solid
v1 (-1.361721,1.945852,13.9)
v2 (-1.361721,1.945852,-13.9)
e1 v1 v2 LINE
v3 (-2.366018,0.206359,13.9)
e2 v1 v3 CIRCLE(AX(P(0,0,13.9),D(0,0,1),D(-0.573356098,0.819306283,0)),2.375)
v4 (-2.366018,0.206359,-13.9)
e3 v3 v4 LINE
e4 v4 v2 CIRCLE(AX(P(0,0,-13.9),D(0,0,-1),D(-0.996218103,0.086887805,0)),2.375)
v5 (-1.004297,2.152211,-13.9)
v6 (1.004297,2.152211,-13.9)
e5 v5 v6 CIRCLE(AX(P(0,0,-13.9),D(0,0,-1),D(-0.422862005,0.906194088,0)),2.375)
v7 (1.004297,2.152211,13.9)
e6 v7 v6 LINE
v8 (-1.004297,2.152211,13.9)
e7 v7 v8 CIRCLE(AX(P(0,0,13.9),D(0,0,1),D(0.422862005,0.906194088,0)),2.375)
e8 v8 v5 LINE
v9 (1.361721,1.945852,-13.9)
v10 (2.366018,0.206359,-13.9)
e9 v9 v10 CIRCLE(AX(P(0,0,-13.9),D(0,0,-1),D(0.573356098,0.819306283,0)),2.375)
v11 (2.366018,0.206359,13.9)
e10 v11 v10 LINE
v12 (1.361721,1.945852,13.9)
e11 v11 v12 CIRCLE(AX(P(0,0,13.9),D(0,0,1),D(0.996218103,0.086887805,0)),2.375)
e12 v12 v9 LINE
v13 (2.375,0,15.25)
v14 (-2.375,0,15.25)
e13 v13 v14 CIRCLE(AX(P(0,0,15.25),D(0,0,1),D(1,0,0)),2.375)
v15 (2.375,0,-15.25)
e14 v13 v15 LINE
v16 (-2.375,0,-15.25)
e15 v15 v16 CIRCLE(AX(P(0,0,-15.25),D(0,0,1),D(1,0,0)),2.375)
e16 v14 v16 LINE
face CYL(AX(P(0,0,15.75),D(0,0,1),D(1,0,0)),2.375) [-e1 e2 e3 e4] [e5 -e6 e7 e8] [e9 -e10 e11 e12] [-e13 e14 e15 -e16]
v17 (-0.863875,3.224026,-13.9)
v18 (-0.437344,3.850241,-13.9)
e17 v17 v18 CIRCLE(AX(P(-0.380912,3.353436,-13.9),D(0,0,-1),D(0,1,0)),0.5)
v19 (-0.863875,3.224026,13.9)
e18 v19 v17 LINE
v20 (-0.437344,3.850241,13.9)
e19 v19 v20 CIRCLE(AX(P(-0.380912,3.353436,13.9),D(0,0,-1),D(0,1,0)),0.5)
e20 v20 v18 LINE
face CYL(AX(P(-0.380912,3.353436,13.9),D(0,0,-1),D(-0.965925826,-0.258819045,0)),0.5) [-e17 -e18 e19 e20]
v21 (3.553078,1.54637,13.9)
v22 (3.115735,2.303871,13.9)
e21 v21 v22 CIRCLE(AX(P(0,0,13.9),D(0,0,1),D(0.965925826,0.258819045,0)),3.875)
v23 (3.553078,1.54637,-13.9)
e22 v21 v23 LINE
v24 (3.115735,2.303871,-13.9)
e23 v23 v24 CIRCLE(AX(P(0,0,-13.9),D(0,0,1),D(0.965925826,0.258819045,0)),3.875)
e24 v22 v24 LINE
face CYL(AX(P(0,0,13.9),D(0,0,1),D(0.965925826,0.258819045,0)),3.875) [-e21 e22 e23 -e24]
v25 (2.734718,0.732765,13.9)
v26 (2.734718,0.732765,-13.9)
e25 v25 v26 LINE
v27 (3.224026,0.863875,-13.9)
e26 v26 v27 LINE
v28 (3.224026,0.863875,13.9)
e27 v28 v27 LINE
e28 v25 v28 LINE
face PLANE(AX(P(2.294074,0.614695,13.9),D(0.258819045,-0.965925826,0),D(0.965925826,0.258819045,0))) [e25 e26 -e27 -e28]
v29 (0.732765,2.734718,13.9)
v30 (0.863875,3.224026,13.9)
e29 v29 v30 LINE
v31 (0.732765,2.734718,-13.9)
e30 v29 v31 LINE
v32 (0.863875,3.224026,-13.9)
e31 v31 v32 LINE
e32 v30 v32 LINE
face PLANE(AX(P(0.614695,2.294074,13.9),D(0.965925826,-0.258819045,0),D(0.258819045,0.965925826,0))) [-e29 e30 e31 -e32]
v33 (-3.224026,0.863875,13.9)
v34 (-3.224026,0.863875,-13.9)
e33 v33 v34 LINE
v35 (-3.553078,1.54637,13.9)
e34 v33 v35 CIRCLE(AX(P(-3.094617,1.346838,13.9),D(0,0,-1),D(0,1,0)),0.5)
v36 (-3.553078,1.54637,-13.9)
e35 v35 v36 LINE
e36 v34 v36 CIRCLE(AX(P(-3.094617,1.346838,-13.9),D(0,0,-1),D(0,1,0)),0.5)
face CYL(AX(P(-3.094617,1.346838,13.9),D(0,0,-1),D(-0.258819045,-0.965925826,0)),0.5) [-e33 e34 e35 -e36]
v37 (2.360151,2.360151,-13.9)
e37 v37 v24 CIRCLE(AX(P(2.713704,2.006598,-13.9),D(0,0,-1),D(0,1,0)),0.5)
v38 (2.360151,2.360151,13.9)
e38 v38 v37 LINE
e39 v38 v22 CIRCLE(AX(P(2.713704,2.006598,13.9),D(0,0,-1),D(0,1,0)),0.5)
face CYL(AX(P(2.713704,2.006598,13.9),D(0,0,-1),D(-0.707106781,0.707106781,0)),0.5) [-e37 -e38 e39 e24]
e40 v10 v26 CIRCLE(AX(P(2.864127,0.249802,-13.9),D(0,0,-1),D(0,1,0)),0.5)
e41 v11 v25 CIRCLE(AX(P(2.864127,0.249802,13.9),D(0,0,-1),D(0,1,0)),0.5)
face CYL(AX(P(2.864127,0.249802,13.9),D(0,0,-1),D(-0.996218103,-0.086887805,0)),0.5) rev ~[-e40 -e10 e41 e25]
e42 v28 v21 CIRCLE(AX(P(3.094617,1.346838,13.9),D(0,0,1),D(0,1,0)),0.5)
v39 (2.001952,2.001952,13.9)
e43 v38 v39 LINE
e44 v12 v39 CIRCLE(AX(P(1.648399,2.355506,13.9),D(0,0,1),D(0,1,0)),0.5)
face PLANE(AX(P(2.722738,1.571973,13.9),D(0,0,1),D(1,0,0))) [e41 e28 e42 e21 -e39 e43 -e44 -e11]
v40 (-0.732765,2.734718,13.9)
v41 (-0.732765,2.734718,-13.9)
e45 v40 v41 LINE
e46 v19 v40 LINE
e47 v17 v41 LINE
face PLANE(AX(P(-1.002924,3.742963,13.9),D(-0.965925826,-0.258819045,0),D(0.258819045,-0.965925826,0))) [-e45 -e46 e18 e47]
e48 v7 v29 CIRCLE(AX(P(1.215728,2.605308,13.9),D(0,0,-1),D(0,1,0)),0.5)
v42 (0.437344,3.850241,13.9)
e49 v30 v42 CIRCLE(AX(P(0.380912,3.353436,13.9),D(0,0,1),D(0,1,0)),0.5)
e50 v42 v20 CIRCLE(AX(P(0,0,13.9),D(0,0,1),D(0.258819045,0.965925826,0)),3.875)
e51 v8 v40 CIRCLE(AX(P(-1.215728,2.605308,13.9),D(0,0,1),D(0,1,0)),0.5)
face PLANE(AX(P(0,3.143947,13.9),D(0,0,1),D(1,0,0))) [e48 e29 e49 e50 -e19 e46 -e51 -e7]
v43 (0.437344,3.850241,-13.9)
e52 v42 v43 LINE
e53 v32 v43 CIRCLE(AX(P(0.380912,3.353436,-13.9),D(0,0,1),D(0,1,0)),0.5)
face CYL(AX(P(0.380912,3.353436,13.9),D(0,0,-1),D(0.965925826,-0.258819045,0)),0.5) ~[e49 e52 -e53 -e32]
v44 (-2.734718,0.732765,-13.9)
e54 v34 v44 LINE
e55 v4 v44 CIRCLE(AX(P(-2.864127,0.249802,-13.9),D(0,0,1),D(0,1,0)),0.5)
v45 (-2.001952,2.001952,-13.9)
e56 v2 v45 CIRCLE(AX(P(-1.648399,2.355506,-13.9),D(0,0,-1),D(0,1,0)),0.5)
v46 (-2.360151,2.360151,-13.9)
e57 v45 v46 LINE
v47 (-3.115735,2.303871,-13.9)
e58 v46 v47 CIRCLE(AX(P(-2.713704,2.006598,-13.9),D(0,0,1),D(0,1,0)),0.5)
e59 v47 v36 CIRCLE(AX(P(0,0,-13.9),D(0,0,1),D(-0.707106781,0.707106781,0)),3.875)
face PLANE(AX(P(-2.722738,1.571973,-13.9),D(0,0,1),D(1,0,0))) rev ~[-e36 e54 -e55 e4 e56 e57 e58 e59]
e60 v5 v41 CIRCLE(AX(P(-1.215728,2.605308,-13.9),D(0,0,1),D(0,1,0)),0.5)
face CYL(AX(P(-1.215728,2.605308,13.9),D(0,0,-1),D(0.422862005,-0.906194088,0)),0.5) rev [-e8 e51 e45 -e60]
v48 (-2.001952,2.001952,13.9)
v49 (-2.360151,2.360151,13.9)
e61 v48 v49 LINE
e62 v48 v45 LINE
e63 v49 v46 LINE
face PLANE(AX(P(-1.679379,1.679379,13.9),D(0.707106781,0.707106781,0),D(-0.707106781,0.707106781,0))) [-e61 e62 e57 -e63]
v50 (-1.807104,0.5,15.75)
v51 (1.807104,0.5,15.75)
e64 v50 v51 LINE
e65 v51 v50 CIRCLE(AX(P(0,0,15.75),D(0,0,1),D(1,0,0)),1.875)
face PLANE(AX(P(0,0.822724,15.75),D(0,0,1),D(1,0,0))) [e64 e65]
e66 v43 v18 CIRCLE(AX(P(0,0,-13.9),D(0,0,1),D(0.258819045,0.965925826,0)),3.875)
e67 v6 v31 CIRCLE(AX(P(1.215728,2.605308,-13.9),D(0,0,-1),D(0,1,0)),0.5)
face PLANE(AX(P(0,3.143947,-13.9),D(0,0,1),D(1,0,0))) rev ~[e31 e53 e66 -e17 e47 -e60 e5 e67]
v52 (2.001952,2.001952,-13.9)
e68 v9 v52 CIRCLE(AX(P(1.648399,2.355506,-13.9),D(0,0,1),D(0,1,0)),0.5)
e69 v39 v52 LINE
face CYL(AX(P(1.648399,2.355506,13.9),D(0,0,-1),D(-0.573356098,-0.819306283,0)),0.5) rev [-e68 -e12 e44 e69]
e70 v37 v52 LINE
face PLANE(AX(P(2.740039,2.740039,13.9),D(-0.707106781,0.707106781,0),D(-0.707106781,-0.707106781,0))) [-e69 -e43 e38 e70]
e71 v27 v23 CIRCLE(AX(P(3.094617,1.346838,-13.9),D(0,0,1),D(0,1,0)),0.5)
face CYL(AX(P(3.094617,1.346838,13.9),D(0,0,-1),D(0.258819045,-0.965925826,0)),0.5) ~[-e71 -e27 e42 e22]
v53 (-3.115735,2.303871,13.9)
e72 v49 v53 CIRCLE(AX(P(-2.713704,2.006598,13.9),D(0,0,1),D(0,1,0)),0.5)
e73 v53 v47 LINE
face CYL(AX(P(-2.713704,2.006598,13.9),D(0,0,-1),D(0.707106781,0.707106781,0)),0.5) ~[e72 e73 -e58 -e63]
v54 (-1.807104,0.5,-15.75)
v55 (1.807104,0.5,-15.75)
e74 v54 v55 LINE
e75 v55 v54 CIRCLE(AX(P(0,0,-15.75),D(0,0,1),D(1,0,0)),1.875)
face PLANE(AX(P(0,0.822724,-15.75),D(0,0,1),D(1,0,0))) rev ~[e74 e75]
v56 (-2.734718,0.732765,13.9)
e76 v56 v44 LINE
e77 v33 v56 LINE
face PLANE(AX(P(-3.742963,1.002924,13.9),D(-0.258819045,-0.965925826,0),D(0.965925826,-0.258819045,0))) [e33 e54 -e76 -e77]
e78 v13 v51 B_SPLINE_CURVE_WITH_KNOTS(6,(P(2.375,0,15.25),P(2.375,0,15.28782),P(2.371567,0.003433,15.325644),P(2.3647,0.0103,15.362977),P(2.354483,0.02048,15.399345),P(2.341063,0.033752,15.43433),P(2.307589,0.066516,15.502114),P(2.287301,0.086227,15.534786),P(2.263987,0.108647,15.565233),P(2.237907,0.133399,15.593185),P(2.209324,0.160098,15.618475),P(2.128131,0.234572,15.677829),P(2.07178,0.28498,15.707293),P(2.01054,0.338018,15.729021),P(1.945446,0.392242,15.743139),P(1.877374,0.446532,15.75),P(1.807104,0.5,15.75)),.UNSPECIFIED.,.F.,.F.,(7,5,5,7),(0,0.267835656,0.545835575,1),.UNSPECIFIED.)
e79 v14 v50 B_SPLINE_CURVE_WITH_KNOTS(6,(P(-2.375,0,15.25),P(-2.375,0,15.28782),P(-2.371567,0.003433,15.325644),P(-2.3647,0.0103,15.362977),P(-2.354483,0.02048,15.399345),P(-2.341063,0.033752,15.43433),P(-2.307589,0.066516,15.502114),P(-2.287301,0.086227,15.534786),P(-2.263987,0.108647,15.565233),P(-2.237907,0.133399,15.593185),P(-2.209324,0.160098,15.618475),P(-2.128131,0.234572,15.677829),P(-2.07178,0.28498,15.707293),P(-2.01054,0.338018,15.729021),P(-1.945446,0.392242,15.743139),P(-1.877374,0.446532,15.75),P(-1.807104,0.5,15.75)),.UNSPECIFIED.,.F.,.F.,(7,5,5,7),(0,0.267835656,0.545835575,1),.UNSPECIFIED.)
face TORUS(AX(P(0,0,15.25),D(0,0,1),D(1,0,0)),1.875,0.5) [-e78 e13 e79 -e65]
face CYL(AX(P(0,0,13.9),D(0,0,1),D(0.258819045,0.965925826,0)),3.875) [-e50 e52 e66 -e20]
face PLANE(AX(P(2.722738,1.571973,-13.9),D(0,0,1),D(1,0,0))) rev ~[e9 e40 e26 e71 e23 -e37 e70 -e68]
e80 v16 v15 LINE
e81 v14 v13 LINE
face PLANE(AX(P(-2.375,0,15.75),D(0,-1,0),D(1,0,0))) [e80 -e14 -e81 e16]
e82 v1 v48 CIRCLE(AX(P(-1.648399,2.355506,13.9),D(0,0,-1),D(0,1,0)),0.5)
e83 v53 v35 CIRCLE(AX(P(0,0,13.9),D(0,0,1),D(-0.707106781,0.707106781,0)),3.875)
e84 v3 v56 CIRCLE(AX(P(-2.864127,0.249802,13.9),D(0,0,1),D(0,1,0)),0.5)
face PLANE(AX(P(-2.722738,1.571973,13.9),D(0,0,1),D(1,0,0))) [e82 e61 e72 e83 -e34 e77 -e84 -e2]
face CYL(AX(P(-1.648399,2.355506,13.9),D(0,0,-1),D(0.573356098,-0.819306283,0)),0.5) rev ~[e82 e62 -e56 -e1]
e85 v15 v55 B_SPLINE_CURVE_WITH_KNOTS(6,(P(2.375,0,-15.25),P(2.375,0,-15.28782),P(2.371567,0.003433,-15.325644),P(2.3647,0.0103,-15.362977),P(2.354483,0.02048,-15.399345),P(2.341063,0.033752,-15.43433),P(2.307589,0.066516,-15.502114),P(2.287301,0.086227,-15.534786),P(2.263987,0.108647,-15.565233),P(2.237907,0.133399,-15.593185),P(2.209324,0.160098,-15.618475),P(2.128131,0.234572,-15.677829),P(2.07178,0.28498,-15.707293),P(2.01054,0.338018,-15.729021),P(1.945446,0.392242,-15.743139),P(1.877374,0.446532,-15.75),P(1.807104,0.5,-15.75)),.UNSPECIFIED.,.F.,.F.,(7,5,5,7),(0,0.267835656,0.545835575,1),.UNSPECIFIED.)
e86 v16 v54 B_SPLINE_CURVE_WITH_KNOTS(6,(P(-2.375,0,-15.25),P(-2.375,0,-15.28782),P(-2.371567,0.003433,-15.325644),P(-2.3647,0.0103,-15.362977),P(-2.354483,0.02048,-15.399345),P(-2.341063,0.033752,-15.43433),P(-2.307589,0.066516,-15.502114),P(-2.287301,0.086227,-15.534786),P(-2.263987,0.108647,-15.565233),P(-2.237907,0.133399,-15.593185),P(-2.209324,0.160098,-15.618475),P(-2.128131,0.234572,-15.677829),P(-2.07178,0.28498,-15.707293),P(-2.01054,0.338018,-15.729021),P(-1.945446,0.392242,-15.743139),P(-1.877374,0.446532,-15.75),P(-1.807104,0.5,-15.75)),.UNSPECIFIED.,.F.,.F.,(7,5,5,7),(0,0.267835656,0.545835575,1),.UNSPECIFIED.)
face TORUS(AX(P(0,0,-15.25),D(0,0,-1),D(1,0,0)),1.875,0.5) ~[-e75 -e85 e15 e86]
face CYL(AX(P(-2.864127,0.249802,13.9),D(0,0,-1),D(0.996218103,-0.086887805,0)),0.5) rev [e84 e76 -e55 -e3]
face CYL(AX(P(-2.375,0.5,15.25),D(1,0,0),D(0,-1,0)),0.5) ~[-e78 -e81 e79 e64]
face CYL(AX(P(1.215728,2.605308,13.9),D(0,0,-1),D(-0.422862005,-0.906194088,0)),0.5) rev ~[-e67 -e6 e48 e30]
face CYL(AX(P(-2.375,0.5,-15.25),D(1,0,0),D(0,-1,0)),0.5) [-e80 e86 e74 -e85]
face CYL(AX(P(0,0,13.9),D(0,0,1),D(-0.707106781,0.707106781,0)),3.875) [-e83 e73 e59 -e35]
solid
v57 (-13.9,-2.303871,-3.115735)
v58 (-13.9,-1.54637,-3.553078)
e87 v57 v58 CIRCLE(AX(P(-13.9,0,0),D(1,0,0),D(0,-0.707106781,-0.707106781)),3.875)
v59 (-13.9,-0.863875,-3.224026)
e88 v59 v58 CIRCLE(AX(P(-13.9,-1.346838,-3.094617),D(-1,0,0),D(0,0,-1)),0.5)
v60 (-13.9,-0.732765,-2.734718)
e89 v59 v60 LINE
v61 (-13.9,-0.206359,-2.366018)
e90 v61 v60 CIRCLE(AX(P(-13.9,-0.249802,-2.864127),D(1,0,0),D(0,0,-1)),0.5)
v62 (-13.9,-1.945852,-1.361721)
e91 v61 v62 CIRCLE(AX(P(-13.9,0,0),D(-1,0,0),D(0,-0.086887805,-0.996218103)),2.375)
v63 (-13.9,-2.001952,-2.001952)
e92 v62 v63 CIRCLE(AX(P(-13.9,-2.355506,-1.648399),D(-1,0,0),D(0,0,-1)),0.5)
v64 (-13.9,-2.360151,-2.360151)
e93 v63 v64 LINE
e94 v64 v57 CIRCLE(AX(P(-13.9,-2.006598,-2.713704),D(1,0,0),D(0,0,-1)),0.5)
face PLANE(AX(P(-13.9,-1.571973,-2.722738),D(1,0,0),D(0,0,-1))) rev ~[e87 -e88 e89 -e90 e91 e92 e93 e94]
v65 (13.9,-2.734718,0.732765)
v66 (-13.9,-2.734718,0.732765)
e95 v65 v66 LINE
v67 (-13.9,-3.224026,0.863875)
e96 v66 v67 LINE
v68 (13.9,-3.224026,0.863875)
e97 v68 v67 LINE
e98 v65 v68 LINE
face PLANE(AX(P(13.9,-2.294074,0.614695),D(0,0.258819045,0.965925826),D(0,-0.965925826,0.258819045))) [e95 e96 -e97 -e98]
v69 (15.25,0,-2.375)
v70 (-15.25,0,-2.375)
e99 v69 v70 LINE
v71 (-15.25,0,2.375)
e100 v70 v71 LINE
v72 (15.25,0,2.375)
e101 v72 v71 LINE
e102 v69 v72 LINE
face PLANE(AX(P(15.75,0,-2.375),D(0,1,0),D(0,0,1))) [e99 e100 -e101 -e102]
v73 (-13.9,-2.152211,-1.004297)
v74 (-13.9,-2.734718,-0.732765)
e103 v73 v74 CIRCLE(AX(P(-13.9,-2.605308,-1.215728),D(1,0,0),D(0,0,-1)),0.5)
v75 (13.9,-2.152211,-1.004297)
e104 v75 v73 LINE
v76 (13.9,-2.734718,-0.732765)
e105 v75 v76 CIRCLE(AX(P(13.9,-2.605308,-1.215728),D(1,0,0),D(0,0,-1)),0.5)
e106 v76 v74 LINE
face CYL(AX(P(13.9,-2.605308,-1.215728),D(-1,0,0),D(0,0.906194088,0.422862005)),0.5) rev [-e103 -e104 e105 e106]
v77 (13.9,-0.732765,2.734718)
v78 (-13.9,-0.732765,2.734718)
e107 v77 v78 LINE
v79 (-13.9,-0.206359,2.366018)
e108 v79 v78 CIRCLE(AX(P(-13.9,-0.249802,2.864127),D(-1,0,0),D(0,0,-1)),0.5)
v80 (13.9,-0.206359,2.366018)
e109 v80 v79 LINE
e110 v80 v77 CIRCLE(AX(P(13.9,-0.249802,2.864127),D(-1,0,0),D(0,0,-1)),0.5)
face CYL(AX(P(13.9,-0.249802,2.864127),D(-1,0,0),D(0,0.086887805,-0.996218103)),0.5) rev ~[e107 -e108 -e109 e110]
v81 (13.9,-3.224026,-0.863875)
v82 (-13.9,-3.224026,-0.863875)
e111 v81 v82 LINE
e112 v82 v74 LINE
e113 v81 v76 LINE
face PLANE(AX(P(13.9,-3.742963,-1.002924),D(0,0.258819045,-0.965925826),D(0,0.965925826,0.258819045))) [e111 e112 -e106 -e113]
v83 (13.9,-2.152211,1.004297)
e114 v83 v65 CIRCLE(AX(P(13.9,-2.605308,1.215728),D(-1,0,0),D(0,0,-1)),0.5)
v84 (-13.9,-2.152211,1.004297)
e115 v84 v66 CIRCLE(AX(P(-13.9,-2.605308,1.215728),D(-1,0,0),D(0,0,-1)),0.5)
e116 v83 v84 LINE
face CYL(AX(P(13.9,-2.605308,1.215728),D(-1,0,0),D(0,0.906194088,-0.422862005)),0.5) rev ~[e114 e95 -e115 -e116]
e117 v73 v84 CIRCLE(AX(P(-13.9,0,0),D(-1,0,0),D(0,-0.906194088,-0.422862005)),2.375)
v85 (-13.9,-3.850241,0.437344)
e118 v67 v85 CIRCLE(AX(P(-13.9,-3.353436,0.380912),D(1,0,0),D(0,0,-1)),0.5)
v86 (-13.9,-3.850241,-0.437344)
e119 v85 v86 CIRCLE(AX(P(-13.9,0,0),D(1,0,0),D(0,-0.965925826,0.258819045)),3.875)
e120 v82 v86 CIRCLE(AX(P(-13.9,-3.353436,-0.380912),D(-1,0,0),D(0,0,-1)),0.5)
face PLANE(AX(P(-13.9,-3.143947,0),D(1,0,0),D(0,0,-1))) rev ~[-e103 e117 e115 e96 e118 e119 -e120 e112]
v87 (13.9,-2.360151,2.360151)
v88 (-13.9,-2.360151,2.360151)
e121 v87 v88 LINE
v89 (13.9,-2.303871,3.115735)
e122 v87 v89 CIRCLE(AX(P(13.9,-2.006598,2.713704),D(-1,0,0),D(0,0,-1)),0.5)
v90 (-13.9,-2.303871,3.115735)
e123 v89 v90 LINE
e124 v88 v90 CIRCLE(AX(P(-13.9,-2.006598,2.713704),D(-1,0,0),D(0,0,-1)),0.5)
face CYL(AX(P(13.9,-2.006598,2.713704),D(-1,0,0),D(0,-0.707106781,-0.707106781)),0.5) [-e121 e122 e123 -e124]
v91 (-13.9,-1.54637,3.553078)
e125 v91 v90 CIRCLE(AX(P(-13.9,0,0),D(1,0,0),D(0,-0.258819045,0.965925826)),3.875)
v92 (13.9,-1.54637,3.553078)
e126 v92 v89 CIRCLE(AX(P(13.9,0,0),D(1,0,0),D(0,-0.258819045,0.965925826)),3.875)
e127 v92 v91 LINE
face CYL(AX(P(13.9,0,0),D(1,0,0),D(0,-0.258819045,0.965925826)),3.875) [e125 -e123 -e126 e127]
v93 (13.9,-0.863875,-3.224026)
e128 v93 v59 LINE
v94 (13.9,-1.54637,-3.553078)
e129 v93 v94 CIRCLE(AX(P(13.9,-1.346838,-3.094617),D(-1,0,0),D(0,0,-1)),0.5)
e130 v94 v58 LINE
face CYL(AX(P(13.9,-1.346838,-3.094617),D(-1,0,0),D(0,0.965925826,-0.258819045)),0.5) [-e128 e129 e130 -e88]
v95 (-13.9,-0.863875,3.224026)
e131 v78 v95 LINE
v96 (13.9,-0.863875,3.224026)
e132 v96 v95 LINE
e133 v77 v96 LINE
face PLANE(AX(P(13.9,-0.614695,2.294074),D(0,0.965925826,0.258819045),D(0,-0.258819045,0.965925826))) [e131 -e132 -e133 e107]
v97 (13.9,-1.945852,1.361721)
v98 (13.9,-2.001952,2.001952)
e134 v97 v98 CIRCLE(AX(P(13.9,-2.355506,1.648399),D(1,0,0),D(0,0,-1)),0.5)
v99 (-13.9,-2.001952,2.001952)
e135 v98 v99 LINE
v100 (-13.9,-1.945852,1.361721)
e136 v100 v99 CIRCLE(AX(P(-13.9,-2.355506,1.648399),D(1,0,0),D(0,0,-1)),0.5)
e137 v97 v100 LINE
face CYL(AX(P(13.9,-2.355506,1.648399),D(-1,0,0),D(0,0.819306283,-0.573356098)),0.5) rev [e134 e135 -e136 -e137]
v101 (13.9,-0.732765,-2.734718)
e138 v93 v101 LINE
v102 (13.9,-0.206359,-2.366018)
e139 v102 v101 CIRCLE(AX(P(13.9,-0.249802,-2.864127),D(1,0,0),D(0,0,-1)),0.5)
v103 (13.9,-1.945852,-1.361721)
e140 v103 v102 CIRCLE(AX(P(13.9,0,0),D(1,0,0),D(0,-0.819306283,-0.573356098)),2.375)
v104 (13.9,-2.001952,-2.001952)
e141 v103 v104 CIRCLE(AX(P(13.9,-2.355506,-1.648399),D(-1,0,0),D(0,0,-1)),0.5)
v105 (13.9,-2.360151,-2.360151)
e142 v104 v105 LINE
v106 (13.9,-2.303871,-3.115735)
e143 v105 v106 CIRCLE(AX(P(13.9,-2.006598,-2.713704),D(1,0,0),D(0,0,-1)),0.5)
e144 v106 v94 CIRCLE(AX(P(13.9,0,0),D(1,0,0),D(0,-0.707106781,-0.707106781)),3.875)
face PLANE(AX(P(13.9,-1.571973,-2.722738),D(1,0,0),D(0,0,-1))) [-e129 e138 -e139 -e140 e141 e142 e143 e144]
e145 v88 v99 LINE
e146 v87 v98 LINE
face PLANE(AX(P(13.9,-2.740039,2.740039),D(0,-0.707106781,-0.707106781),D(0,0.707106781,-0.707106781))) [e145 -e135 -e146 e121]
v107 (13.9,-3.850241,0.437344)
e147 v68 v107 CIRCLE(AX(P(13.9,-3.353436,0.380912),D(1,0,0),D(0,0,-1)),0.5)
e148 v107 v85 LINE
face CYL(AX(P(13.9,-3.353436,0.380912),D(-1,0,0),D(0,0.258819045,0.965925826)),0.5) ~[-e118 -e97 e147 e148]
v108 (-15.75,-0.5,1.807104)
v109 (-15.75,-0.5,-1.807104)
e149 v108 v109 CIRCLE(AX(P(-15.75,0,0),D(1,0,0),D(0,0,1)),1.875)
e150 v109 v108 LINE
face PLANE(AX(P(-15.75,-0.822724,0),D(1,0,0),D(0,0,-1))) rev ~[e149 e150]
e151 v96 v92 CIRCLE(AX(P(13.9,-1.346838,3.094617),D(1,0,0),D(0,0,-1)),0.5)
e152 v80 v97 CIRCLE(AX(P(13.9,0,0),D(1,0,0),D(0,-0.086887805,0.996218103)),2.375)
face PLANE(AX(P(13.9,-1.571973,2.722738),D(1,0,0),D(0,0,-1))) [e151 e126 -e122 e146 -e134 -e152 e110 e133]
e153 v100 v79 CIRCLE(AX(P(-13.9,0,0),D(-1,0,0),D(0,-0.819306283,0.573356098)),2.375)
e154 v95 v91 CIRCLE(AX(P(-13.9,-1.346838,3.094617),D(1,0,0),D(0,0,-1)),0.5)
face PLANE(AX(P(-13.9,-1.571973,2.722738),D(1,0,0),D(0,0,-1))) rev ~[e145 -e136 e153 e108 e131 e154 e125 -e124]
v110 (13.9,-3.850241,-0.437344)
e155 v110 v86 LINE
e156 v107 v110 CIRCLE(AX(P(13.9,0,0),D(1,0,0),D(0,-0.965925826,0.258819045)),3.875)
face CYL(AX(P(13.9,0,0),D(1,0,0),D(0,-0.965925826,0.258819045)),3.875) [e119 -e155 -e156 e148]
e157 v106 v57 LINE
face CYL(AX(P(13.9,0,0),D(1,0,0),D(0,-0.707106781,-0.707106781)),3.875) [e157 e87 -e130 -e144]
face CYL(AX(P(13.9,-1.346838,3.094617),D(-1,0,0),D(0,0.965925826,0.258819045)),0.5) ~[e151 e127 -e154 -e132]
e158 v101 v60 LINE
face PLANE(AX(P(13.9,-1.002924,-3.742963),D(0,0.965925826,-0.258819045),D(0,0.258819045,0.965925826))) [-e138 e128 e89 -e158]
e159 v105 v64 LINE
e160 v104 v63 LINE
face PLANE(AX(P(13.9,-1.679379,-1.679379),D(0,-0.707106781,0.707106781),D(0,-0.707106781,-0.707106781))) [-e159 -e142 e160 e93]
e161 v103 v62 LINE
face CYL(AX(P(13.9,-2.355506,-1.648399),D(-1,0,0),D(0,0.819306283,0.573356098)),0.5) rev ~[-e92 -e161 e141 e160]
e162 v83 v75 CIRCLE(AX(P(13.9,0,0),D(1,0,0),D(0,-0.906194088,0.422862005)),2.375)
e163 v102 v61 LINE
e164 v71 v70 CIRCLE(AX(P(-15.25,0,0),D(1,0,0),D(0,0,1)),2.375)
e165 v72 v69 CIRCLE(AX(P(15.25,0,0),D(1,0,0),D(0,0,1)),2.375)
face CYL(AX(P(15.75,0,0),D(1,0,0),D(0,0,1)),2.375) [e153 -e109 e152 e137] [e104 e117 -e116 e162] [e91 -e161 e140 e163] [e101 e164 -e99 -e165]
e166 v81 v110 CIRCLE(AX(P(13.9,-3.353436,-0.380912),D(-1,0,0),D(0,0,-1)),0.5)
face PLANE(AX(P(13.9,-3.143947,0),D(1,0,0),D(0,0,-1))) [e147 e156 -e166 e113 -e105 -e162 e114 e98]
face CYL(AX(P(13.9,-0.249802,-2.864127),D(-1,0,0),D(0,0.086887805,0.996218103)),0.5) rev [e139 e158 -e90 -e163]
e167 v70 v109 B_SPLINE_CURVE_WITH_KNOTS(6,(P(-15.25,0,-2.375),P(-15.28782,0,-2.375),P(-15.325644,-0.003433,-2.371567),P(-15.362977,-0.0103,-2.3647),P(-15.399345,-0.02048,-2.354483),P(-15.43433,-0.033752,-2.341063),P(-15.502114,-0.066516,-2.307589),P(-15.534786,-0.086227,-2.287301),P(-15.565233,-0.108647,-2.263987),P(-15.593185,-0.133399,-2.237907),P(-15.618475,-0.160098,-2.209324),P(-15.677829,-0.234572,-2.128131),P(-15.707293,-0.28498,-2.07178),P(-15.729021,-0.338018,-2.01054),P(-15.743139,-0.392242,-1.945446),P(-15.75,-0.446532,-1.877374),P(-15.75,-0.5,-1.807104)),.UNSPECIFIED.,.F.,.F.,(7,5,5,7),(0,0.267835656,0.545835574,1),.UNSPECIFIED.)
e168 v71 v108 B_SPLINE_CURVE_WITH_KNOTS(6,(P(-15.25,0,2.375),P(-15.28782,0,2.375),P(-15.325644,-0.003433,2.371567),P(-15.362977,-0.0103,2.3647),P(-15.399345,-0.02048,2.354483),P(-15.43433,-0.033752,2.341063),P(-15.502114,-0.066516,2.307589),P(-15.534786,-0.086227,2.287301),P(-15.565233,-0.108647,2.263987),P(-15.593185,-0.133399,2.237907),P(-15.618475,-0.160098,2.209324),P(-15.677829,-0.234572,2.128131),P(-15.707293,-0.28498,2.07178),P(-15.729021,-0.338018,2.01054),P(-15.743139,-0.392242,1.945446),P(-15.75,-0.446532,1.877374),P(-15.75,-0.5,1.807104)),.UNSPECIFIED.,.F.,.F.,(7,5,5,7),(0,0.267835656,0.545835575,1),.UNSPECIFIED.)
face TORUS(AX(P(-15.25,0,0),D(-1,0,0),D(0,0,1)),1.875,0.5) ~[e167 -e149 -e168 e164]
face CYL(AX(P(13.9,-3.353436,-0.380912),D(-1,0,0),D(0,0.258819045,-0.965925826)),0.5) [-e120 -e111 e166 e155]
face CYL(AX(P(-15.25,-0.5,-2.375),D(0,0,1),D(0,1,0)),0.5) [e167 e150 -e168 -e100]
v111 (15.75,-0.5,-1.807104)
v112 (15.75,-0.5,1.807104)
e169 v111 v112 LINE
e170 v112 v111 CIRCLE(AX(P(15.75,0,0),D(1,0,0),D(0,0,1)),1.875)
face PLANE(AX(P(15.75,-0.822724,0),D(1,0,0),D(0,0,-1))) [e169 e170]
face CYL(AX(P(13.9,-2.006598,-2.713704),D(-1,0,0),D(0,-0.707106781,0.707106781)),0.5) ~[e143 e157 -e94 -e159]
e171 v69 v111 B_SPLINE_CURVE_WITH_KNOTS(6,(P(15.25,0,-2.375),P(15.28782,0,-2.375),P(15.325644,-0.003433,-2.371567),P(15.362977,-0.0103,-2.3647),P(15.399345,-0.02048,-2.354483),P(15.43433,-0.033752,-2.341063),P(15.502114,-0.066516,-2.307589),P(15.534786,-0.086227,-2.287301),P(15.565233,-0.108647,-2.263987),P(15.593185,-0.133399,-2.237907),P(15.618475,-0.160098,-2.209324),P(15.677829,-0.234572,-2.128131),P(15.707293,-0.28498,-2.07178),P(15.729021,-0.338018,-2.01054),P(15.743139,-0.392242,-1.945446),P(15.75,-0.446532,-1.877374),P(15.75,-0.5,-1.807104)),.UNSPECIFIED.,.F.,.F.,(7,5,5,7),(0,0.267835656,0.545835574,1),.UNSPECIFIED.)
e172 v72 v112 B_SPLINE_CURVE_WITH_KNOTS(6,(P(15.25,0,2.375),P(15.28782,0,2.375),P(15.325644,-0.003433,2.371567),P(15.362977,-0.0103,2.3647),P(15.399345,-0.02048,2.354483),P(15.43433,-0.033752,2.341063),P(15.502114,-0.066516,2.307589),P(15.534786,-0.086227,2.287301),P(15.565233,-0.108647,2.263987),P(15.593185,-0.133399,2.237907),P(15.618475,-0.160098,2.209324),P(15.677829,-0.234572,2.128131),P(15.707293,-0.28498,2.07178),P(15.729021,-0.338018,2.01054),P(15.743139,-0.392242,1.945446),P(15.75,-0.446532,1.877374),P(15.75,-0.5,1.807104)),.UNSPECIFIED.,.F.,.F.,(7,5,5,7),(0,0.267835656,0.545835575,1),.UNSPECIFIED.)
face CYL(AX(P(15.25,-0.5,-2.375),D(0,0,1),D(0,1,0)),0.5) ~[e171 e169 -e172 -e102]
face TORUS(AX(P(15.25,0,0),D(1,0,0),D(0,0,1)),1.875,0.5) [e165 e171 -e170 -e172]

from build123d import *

# Parameters (mm, degrees)
BOSS_EXTRUDE9_START  = 1.85
BOSS_EXTRUDE9_DEPTH  = 31.5
BOSS_EXTRUDE10_DEPTH = 27.8
FILLET4_R            = 0.5
BOSS_EXTRUDE11_DEPTH = 31.5
BOSS_EXTRUDE12_START = -1.85
BOSS_EXTRUDE12_DEPTH = 27.8
FILLET5_R            = 0.5


with BuildPart() as part:
    # Sketch10 → Boss-Extrude9 (new body)
    with BuildSketch(Plane(origin=(13.899999999999999, 0, 0), x_dir=(0, 0, -1), z_dir=(1, 0, 0)).offset(BOSS_EXTRUDE9_START)):
        with BuildLine():
            Line((2.375, 0), (-2.375, 0))
            ThreePointArc((-2.375, 0), (-2.3546815457628005, -0.30999970652261516), (-2.2940738374365415, -0.6146952321184724))
            ThreePointArc((-2.294073837436541, -0.6146952321184722), (-2.0568103339880484, -1.1874999999999882), (-1.679378605318059, -1.6793786053180417))
            ThreePointArc((-1.6793786053180593, -1.6793786053180415), (-1.1875000000000056, -2.0568103339880377), (-0.614695232118488, -2.294073837436537))
            ThreePointArc((-0.6146952321184879, -2.294073837436537), (8e-16, -2.375), (0.6146952321184889, -2.2940738374365366))
            ThreePointArc((0.6146952321184891, -2.2940738374365366), (1.1874999999999993, -2.0568103339880426), (1.6793786053180475, -1.679378605318053))
            ThreePointArc((1.679378605318047, -1.6793786053180533), (2.0568103339880404, -1.1875000000000027), (2.2940738374365366, -0.6146952321184884))
            ThreePointArc((2.294073837436536, -0.6146952321184882), (2.3546815457627996, -0.30999970652262326), (2.374999999999999, 1.5e-16))
        make_face()
    extrude(amount=-BOSS_EXTRUDE9_DEPTH)

    # Sketch10<3> → Boss-Extrude10 (add)
    with BuildSketch(Plane(origin=(13.899999999999999, 0, 0), x_dir=(0, 0, -1), z_dir=(1, 0, 0))):
        with BuildLine():
            Line((3.742962576870139, -1.0029237997722704), (2.2940738374365366, -0.6146952321184883))
            ThreePointArc((2.2940738374365366, -0.6146952321184884), (2.0568103339880404, -1.1875000000000027), (1.679378605318047, -1.6793786053180533))
            Line((1.6793786053180473, -1.6793786053180535), (2.740038777097866, -2.740038777097877))
            ThreePointArc((2.740038777097866, -2.7400387770978774), (3.3558484396646966, -1.937500000000004), (3.7429625768701396, -1.0029237997722706))
        make_face()
        with BuildLine():
            ThreePointArc((0.6146952321184889, -2.2940738374365366), (8e-16, -2.375), (-0.6146952321184879, -2.294073837436537))
            Line((-0.6146952321184881, -2.294073837436537), (-1.00292379977227, -3.7429625768701387))
            ThreePointArc((-1.0029237997722702, -3.7429625768701396), (9.4e-16, -3.874999999999999), (1.0029237997722722, -3.7429625768701387))
            Line((1.0029237997722715, -3.7429625768701382), (0.614695232118489, -2.2940738374365366))
        make_face()
        with BuildLine():
            ThreePointArc((-1.679378605318059, -1.6793786053180417), (-2.0568103339880484, -1.1874999999999882), (-2.294073837436541, -0.6146952321184722))
            Line((-2.294073837436541, -0.6146952321184723), (-3.7429625768701458, -1.002923799772244))
            ThreePointArc((-3.7429625768701453, -1.002923799772244), (-3.3558484396647104, -1.937499999999981), (-2.7400387770978853, -2.740038777097858))
            Line((-2.740038777097886, -2.740038777097858), (-1.6793786053180595, -1.6793786053180415))
        make_face()
    extrude(amount=-BOSS_EXTRUDE10_DEPTH)

    # Fillet4
    fillet4_edges = [part.edges().sort_by_distance(p)[0] for p in [
        (-15.75, 0, 0),
        (-1.78e-15, -1.6793786053180533, -1.6793786053180475),
        (-1.78e-15, -0.6146952321184884, -2.2940738374365366),
        (-1.78e-15, -1.0029237997722706, -3.7429625768701396),
        (-1.78e-15, -2.740038777097877, -2.7400387770978663),
        (-1.78e-15, -2.294073837436537, 0.614695232118488),
        (-1.78e-15, -2.2940738374365366, -0.6146952321184889),
        (-1.78e-15, -3.7429625768701387, -1.002923799772272),
        (-1.78e-15, -3.7429625768701396, 1.0029237997722702),
        (-1.78e-15, -0.6146952321184724, 2.2940738374365415),
        (-1.78e-15, -1.6793786053180417, 1.6793786053180595),
        (-1.78e-15, -2.740038777097858, 2.740038777097886),
        (-1.78e-15, -1.002923799772244, 3.7429625768701458),
        (15.749999999999998, 0, 0),
        (15.749999999999998, -2.3749999999999236, -8.83e-14),
        (-15.75, -2.375000000000048, -5.294e-14),
    ]]
    fillet(fillet4_edges, radius=FILLET4_R)


with BuildPart() as body_2:
    # Sketch12 → Boss-Extrude11 (new body)
    with BuildSketch(Plane.XY.offset(15.75)):
        with BuildLine():
            ThreePointArc((-2.2940738374365424, 0.6146952321184705), (-2.3546815457628014, 0.3099997065226141), (-2.375, 1e-17))
            Line((-2.375, 0), (2.375, 0))
            ThreePointArc((2.375, 0), (2.354681545762799, 0.30999970652261893), (2.2940738374365393, 0.61469523211848))
            ThreePointArc((2.2940738374365397, 0.6146952321184802), (2.056810333988045, 1.1874999999999953), (1.6793786053180533, 1.679378605318048))
            ThreePointArc((1.6793786053180533, 1.679378605318048), (1.1875000000000027, 2.0568103339880413), (0.614695232118488, 2.294073837436537))
            ThreePointArc((0.6146952321184886, 2.2940738374365366), (-2.2e-16, 2.375), (-0.6146952321184889, 2.294073837436537))
            ThreePointArc((-0.6146952321184889, 2.294073837436537), (-1.187500000000007, 2.0568103339880386), (-1.67937860531806, 1.6793786053180408))
            ThreePointArc((-1.6793786053180595, 1.6793786053180408), (-2.0568103339880497, 1.1874999999999862), (-2.2940738374365415, 0.61469523211847))
        make_face()
    extrude(amount=-BOSS_EXTRUDE11_DEPTH)

    # Sketch12<3> → Boss-Extrude12 (add)
    with BuildSketch(Plane.XY.offset(15.75).offset(BOSS_EXTRUDE12_START)):
        with BuildLine():
            Line((-3.742962576870146, 1.0029237997722413), (-2.294073837436542, 0.6146952321184705))
            ThreePointArc((-2.2940738374365415, 0.61469523211847), (-2.0568103339880497, 1.1874999999999862), (-1.6793786053180595, 1.6793786053180408))
            Line((-1.67937860531806, 1.6793786053180408), (-2.7400387770978876, 2.740038777097856))
            ThreePointArc((-2.7400387770978876, 2.7400387770978565), (-3.3558484396647126, 1.9374999999999782), (-3.7429625768701467, 1.0029237997722413))
        make_face()
        with BuildLine():
            Line((-1.0029237997722713, 3.742962576870139), (-0.6146952321184889, 2.294073837436537))
            ThreePointArc((-0.6146952321184889, 2.294073837436537), (-2.2e-16, 2.375), (0.6146952321184886, 2.2940738374365366))
            Line((0.6146952321184883, 2.294073837436537), (1.0029237997722704, 3.742962576870139))
            ThreePointArc((1.0029237997722706, 3.74296257687014), (-4.4e-16, 3.875), (-1.0029237997722715, 3.74296257687014))
        make_face()
        with BuildLine():
            ThreePointArc((1.6793786053180533, 1.679378605318048), (2.056810333988045, 1.1874999999999953), (2.2940738374365397, 0.6146952321184802))
            Line((2.2940738374365393, 0.6146952321184801), (3.742962576870143, 1.002923799772257))
            ThreePointArc((3.742962576870143, 1.0029237997722573), (3.3558484396647046, 1.9374999999999925), (2.740038777097876, 2.7400387770978676))
            Line((2.740038777097876, 2.740038777097867), (1.6793786053180533, 1.679378605318048))
        make_face()
    extrude(amount=-BOSS_EXTRUDE12_DEPTH)

    # Fillet5
    fillet5_edges = [body_2.edges().sort_by_distance(p)[0] for p in [
        (0, 0, -15.75),
        (-1.6793786053180597, 1.6793786053180408, 0),
        (-2.294073837436542, 0.6146952321184704, 0),
        (-3.7429625768701467, 1.0029237997722418, 0),
        (-2.7400387770978876, 2.7400387770978565, 0),
        (0.6146952321184882, 2.2940738374365366, 0),
        (-0.6146952321184889, 2.294073837436537, 0),
        (-1.0029237997722715, 3.7429625768701396, 0),
        (1.0029237997722706, 3.7429625768701396, 0),
        (2.2940738374365397, 0.6146952321184802, 0),
        (1.6793786053180535, 1.679378605318048, 0),
        (2.740038777097876, 2.740038777097867, 0),
        (3.742962576870143, 1.0029237997722573, 0),
        (0, 0, 15.75),
        (-2.154e-14, 2.3749999999999845, 15.75),
        (-1.5212e-13, 2.3750000000001332, -15.75),
    ]]
    fillet(fillet5_edges, radius=FILLET5_R)


solid = Compound([part.part, body_2.part])
